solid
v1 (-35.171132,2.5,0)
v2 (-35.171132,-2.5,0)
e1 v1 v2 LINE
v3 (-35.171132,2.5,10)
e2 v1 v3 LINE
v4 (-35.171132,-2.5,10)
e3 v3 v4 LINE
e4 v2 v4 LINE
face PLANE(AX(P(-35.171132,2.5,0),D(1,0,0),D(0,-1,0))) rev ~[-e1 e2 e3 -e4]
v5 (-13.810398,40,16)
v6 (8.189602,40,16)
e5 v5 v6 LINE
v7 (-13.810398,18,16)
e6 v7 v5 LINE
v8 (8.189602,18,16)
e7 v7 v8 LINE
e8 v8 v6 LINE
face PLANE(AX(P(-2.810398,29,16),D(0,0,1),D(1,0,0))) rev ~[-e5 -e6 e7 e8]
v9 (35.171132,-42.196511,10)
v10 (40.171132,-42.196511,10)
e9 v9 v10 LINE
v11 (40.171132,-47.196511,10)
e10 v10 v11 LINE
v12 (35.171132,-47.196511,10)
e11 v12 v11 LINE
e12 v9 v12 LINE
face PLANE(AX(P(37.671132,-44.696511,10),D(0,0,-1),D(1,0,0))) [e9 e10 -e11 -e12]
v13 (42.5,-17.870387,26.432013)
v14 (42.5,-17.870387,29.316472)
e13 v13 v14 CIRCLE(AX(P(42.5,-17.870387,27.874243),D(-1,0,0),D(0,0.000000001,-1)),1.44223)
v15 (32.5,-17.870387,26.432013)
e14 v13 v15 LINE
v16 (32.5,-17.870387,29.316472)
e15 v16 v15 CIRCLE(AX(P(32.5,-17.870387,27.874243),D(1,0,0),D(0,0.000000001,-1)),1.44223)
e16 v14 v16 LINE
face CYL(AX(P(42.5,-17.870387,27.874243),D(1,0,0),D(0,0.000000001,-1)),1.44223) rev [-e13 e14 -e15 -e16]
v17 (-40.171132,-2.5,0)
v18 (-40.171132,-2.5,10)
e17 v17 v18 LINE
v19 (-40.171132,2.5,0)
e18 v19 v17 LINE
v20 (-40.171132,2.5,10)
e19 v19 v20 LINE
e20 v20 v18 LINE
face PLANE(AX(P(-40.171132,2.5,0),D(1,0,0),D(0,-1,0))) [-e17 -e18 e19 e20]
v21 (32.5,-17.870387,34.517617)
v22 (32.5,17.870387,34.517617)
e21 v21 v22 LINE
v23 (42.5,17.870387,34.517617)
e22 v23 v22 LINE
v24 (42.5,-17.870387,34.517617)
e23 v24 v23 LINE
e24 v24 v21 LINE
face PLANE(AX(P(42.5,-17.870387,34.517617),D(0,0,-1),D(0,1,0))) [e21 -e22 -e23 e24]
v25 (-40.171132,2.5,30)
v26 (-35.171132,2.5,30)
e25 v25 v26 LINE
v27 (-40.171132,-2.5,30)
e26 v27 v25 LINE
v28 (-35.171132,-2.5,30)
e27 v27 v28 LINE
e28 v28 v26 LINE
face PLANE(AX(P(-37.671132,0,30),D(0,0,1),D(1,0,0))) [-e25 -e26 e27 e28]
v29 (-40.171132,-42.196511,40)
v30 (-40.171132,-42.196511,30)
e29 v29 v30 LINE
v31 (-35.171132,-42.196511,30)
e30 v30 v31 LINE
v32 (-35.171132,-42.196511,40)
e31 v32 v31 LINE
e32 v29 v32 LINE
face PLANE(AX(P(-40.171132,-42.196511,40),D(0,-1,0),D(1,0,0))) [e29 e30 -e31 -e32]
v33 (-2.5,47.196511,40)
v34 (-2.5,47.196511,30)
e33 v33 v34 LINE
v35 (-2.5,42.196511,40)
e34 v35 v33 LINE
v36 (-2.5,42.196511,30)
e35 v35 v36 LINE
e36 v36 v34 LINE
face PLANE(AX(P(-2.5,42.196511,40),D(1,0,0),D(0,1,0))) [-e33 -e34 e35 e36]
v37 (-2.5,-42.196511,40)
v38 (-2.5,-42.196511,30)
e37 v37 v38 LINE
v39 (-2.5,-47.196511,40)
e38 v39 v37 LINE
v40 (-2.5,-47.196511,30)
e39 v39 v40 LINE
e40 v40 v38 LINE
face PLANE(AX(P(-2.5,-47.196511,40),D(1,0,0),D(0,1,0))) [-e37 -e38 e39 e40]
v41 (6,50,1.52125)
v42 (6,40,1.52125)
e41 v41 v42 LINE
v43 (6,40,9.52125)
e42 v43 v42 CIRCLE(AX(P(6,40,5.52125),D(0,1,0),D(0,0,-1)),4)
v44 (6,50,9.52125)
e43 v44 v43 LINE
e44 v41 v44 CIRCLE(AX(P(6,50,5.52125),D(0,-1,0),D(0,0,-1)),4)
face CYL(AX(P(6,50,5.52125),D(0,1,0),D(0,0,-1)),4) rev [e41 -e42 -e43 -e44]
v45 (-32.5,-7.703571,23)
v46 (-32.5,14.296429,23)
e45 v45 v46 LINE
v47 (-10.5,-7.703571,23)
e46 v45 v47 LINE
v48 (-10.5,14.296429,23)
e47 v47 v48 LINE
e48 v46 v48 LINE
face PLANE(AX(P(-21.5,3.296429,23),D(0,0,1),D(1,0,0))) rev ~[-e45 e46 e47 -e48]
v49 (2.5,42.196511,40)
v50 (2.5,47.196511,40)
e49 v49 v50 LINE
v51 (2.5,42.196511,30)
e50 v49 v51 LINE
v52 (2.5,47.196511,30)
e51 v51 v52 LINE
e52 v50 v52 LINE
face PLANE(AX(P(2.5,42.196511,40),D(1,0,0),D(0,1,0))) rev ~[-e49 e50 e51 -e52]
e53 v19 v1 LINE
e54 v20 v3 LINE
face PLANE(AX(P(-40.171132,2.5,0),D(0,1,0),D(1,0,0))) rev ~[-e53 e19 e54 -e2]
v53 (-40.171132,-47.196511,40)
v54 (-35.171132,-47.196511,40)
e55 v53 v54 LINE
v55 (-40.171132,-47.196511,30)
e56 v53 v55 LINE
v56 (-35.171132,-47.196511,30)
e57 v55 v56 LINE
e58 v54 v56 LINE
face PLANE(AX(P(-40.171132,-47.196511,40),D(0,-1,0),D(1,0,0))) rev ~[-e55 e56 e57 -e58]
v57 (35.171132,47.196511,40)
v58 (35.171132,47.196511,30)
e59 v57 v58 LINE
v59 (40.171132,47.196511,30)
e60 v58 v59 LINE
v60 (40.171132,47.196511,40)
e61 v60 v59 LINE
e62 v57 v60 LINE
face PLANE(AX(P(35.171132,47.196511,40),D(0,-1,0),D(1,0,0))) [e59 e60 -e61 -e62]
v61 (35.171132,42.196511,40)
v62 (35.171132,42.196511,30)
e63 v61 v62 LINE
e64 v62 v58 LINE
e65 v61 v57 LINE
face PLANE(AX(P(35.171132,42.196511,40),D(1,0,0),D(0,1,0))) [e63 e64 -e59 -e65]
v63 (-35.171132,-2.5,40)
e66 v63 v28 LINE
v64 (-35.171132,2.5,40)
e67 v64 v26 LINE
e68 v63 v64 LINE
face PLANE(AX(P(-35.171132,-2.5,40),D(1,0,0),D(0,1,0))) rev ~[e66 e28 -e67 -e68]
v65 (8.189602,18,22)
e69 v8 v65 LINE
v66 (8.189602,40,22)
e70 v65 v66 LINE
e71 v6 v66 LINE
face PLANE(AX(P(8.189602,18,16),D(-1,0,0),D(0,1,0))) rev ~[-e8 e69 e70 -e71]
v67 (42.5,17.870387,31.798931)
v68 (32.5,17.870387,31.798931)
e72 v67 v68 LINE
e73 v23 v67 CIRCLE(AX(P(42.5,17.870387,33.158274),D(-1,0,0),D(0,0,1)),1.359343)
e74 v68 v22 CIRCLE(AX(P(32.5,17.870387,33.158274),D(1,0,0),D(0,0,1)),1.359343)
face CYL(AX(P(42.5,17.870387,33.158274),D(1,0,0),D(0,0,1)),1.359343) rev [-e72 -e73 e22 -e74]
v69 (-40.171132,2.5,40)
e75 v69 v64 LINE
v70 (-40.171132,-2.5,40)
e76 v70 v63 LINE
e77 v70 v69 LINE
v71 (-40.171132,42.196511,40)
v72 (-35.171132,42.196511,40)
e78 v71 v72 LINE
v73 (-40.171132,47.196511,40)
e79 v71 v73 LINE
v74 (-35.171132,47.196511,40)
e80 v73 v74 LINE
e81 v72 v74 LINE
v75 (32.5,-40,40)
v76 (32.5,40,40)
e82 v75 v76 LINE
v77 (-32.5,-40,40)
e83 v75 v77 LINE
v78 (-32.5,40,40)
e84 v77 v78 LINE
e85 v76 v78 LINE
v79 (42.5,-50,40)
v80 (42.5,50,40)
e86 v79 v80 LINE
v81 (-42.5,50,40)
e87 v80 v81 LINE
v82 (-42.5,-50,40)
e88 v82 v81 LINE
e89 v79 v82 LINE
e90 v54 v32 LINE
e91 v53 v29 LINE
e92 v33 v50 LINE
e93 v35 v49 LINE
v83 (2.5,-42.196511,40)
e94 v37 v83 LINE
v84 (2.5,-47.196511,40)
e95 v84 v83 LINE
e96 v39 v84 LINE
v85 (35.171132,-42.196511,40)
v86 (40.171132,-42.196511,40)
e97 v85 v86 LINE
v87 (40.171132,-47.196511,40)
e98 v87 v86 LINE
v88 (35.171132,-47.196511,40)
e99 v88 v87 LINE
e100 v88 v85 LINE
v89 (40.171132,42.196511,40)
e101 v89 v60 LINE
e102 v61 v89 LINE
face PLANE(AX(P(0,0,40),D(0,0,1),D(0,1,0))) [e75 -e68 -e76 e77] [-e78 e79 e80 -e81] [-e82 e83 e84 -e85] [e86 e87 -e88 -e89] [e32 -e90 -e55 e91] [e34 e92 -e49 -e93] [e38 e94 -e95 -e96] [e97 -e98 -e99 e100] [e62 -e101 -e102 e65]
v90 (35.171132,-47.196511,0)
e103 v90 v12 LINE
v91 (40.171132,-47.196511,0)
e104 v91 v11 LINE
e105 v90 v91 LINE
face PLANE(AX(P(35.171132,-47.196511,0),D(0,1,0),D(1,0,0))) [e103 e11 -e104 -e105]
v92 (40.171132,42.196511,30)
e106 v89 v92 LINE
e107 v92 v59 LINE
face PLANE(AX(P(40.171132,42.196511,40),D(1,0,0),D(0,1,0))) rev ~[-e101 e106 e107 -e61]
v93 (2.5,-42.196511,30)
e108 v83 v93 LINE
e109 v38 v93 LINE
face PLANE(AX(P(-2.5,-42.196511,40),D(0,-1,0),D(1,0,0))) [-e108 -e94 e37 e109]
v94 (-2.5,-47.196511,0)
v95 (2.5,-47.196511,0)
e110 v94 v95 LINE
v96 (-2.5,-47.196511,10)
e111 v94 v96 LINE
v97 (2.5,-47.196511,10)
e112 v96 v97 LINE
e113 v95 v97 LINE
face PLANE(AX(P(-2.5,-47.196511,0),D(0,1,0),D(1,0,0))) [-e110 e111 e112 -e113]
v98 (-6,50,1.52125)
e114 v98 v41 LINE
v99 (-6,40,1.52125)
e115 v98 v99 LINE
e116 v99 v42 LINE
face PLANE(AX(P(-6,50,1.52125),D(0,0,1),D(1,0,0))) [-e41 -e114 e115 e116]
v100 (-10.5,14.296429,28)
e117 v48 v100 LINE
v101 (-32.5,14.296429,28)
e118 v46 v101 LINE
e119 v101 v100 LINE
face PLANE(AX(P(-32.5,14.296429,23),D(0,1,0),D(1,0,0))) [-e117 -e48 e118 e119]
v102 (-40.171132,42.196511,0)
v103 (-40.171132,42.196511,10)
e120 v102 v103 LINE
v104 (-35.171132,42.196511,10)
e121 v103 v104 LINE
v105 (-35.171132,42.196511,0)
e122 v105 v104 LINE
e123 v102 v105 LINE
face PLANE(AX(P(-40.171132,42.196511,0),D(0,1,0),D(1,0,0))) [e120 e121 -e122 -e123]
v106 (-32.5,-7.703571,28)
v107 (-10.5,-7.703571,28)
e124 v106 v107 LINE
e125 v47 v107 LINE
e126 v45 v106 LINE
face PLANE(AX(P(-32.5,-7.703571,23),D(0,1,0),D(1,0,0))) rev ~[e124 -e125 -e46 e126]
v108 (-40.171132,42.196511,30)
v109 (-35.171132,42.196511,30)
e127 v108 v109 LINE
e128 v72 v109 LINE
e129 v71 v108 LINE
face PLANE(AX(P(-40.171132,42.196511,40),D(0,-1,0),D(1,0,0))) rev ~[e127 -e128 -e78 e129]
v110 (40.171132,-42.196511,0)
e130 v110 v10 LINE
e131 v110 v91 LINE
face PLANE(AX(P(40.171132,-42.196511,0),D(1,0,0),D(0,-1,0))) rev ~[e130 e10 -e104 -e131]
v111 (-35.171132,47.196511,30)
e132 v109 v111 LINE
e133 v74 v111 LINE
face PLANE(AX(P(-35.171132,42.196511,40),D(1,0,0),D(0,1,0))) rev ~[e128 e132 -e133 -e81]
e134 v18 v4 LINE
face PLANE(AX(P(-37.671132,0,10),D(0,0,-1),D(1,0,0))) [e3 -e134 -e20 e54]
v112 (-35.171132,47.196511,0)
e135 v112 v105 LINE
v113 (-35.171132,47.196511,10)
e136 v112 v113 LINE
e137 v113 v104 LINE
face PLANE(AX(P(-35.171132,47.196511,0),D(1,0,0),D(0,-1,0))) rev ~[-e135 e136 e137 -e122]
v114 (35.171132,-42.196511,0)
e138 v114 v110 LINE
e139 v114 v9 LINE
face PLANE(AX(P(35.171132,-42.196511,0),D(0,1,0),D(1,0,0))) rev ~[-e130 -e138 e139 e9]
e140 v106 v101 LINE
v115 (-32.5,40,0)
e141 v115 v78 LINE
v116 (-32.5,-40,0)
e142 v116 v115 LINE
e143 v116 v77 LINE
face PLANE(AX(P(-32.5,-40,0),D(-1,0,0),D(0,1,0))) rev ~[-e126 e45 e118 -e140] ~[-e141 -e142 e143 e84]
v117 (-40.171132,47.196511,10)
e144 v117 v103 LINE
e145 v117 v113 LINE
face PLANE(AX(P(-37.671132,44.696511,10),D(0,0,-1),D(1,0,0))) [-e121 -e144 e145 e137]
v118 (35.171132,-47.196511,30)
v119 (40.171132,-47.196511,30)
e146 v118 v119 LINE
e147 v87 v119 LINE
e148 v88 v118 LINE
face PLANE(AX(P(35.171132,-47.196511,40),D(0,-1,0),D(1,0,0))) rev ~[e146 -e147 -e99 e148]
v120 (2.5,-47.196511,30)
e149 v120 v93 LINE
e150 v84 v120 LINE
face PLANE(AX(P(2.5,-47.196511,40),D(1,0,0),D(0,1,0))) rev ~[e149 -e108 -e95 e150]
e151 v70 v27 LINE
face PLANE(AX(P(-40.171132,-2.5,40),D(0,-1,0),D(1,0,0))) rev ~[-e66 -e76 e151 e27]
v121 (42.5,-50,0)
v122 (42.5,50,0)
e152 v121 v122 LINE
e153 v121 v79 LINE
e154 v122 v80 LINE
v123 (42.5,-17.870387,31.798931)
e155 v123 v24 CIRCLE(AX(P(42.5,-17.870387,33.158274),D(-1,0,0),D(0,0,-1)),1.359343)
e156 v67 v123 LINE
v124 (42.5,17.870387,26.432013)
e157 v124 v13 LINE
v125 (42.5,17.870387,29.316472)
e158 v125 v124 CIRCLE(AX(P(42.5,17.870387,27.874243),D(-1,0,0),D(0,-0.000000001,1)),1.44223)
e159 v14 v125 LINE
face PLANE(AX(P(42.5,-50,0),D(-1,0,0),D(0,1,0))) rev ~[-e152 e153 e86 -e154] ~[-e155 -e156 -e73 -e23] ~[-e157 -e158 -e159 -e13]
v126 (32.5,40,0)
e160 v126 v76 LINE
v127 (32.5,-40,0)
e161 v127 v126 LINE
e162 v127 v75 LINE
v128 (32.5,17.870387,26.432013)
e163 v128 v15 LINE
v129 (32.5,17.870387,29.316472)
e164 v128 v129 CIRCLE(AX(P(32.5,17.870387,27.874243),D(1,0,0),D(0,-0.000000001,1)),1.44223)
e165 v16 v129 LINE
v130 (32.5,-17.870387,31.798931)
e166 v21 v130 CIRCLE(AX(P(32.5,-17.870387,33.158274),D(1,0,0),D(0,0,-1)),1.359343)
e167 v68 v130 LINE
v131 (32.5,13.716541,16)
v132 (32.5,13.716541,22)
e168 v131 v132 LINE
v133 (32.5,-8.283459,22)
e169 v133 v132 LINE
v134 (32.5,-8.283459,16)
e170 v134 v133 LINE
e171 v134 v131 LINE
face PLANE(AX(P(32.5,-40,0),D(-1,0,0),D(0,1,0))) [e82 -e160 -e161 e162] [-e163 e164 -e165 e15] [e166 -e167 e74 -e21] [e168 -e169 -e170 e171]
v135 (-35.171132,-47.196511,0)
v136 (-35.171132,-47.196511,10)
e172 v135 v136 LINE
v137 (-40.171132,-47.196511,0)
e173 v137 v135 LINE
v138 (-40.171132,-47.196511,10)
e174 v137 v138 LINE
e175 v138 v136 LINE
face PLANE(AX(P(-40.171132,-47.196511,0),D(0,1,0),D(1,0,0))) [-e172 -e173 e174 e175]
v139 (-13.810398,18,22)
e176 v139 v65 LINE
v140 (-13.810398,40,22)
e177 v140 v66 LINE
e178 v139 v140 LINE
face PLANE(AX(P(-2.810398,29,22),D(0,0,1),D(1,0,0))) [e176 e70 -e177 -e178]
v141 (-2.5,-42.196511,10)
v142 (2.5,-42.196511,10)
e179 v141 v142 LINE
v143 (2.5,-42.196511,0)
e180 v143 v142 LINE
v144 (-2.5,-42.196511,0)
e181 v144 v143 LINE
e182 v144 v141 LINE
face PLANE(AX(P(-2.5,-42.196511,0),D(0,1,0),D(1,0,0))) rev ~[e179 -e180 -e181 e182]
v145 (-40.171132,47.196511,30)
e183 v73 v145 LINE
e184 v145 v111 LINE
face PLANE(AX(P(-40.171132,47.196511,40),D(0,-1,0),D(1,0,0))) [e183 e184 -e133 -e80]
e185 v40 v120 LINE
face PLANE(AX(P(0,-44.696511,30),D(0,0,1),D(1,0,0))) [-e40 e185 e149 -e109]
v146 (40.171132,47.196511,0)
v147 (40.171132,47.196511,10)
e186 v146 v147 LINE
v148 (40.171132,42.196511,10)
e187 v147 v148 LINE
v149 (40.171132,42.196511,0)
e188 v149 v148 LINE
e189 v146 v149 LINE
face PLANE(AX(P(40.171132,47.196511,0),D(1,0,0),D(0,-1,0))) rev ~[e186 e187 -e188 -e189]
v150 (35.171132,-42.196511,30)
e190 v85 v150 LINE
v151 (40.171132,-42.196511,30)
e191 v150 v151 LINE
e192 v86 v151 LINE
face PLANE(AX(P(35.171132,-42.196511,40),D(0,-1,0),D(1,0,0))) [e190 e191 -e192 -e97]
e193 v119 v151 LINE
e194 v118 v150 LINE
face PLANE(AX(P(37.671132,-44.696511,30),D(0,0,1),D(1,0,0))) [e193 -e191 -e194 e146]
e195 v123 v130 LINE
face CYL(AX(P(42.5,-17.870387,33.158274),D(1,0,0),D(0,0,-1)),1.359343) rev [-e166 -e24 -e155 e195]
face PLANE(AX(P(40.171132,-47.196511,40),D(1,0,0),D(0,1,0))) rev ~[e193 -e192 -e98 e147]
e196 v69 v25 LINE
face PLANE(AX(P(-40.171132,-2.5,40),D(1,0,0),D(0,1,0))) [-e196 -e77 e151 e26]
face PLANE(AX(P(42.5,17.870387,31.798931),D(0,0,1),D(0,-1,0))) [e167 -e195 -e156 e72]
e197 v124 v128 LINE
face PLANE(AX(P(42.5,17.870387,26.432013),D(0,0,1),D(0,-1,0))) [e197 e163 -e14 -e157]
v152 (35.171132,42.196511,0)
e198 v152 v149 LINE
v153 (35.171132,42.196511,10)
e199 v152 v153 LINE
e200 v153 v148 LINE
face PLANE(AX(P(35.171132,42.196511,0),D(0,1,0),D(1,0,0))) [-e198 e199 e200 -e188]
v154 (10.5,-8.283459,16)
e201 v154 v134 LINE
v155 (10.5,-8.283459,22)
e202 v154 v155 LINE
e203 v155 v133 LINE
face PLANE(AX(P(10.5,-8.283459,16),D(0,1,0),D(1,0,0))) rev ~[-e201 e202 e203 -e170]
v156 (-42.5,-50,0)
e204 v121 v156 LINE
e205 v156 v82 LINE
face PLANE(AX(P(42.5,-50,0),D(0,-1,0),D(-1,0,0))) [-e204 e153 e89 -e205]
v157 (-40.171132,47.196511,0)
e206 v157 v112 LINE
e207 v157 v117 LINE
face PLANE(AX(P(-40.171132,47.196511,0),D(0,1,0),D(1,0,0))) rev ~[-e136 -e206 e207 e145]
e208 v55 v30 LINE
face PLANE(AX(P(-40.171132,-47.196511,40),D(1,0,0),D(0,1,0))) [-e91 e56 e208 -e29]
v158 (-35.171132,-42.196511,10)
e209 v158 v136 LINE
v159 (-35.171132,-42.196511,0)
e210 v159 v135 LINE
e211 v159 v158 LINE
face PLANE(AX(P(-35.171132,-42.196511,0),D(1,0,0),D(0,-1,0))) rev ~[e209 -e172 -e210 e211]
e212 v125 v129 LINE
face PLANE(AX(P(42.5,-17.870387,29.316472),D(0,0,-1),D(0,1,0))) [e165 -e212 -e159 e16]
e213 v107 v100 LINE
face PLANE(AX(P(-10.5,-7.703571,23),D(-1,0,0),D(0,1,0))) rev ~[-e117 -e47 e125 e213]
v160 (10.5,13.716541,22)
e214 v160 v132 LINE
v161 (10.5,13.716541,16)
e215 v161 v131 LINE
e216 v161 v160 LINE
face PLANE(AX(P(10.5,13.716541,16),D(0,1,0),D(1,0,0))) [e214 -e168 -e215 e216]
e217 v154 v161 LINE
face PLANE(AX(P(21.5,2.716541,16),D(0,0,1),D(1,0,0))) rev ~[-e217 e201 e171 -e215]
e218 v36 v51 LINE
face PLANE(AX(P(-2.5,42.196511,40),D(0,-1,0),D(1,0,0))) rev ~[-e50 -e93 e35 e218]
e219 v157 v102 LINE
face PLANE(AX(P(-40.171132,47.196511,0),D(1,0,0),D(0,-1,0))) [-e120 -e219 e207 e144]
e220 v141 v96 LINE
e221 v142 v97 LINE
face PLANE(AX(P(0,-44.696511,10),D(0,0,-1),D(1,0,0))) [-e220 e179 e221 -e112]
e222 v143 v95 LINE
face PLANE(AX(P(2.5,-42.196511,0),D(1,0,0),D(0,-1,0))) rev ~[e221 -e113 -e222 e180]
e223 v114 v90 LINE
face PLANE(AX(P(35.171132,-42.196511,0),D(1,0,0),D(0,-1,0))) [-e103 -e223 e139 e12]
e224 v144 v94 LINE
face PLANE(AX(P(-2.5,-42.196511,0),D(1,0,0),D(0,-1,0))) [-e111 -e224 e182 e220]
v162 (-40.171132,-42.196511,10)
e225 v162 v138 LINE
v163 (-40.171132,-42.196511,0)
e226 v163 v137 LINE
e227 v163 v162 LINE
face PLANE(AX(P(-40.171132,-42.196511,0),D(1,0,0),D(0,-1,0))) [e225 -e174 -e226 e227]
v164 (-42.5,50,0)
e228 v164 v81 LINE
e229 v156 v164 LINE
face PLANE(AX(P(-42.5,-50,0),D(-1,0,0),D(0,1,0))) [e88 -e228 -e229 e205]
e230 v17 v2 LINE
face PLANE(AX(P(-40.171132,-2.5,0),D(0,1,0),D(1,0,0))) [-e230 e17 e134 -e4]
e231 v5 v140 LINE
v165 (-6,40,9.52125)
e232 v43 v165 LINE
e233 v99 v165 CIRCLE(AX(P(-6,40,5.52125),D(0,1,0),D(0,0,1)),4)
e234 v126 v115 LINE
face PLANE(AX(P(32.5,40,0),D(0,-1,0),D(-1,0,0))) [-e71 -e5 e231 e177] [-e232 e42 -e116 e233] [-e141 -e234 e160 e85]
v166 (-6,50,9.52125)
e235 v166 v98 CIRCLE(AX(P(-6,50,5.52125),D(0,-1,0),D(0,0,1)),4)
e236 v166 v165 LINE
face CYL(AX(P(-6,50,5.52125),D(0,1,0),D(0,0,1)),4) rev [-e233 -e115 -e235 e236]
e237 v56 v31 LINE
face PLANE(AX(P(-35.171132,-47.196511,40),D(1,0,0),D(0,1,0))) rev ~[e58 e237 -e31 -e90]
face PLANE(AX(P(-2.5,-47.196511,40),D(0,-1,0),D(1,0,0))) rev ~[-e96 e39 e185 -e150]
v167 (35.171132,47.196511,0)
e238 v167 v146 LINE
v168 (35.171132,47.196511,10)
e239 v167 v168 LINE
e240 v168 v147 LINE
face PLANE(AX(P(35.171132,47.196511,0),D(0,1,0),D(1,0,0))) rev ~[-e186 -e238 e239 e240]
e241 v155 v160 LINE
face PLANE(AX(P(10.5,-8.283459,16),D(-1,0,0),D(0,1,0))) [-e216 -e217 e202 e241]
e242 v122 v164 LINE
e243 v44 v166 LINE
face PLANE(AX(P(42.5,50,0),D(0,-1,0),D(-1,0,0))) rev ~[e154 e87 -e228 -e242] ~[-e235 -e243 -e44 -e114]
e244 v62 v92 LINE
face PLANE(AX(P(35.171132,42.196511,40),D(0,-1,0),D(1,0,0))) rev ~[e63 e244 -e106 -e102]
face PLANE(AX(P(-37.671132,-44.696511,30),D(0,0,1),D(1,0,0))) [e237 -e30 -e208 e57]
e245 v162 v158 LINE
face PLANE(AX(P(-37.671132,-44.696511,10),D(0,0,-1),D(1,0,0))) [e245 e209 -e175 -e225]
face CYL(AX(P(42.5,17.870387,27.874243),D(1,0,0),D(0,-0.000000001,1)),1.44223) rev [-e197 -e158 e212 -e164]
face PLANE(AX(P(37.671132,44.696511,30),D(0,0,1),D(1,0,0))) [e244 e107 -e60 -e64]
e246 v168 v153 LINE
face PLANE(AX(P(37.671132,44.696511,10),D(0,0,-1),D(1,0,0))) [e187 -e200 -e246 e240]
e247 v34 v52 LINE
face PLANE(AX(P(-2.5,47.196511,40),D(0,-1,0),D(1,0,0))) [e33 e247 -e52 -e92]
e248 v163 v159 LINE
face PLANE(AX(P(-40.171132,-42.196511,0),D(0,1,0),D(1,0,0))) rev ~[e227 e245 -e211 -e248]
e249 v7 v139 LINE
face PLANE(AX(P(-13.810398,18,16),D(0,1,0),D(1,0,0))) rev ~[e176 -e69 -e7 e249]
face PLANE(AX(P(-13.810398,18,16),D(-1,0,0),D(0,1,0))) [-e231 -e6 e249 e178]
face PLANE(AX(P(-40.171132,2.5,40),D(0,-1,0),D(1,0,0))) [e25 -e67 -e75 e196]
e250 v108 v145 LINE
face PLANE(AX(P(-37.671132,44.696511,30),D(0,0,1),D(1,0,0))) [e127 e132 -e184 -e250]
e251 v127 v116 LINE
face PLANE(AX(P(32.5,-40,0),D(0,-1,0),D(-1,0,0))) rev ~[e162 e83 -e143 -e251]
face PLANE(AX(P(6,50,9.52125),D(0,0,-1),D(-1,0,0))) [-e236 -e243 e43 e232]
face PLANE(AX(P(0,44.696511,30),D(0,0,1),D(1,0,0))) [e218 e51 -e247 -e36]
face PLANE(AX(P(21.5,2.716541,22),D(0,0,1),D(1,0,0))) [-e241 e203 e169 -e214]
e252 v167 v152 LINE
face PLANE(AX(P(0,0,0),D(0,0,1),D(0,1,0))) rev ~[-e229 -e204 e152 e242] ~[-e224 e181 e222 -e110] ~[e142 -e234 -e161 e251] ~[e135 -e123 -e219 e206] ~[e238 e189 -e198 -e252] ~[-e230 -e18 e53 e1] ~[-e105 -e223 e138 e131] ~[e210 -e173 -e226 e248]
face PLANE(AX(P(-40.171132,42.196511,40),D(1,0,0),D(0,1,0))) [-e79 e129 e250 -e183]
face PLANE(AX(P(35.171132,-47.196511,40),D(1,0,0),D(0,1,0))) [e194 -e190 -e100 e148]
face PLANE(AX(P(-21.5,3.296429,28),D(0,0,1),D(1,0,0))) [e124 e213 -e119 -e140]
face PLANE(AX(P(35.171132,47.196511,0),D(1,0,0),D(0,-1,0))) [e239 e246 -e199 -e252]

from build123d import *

# Parameters (mm, degrees)
SKETCH1_W            = 100
SKETCH1_H            = 85
SKETCH1_W_2          = 80
SKETCH1_H_2          = 65
BOSS_EXTRUDE1_DEPTH  = 40
SKETCH14_W           = 5
SKETCH14_H           = 5
CUT_EXTRUDE11_DEPTH  = 10
CUT_EXTRUDE16_REACH  = 117.785
SKETCH24_W           = 22
SKETCH24_H           = 22
BOSS_EXTRUDE13_DEPTH = 6
CUT_EXTRUDE17_REACH  = 108.419
SKETCH32_W           = 22
SKETCH32_H           = 22
BOSS_EXTRUDE17_DEPTH = 6
SKETCH33_W           = 5
SKETCH33_H           = 5
CUT_EXTRUDE18_DEPTH  = 10
SKETCH36_W           = 22
SKETCH36_H           = 22
BOSS_EXTRUDE19_DEPTH = 5


with BuildPart() as part:
    # Sketch1 → Boss-Extrude1 (new body)
    with BuildSketch(Plane(origin=(0, 0, 0), x_dir=(0, 1, 0), z_dir=(0, 0, 1))):
        Rectangle(SKETCH1_W, SKETCH1_H)
        Rectangle(SKETCH1_W_2, SKETCH1_H_2, mode=Mode.SUBTRACT)
    extrude(amount=BOSS_EXTRUDE1_DEPTH)

    # Sketch14 → Cut-Extrude11 (cut)
    with BuildSketch(Plane.XY.offset(40)):
        with Locations((-37.671132401, 44.6965107)):
            Rectangle(SKETCH14_W, SKETCH14_H)
        with Locations((-37.671132401, -44.6965107)):
            Rectangle(SKETCH14_W, SKETCH14_H)
        with Locations((37.671132401, 44.6965107)):
            Rectangle(SKETCH14_W, SKETCH14_H)
        with Locations((37.671132401, -44.6965107)):
            Rectangle(SKETCH14_W, SKETCH14_H)
        with Locations((0, 44.6965107)):
            Rectangle(SKETCH14_W, SKETCH14_H)
        with Locations((0, -44.6965107)):
            Rectangle(SKETCH14_W, SKETCH14_H)
        with Locations((-37.671132401, 0)):
            Rectangle(SKETCH14_W, SKETCH14_H)
    extrude(amount=-CUT_EXTRUDE11_DEPTH, mode=Mode.SUBTRACT)

    # Sketch22 → Cut-Extrude16 (cut, up to next)
    with BuildSketch(Plane(origin=(0, 50, 0), x_dir=(-1, 0, 0), z_dir=(0, 1, 0)), mode=Mode.PRIVATE) as cut_extrude16_sk1:
        with BuildLine():
            Line((-6, 9.521249719), (6, 9.521249719))
            ThreePointArc((6, 9.521249719), (10, 5.521249719), (6, 1.521249719))
            Line((6, 1.521249719), (-6, 1.521249719))
            ThreePointArc((-6, 1.521249719), (-10, 5.521249719), (-6, 9.521249719))
        make_face()
    cut_extrude16_tool1 = extrude(cut_extrude16_sk1.sketch, amount=-CUT_EXTRUDE16_REACH, mode=Mode.PRIVATE) & part.part
    add(cut_extrude16_tool1.solids().sort_by_distance((0, 50, 5.52125))[0], mode=Mode.SUBTRACT)

    # Sketch24 → Boss-Extrude13 (add)
    with BuildSketch(Plane.XY.offset(16)):
        with Locations((21.5, 2.716540801)):
            Rectangle(SKETCH24_W, SKETCH24_H)
    extrude(amount=BOSS_EXTRUDE13_DEPTH)

    # Sketch12 → Cut-Extrude17 (cut, up to next)
    with BuildSketch(Plane.YZ.offset(42.5), mode=Mode.PRIVATE) as cut_extrude17_sk1:
        with BuildLine():
            Line((-17.870386686, 34.517617013), (17.870386686, 34.517617013))
            ThreePointArc((17.870386686, 34.517617013), (19.229729644, 33.158274056), (17.870386686, 31.798931098))
            Line((17.870386686, 31.798931098), (-17.870386686, 31.798931098))
            ThreePointArc((-17.870386686, 31.798931098), (-19.229729644, 33.158274056), (-17.870386686, 34.517617013))
        make_face()
    cut_extrude17_tool1 = extrude(cut_extrude17_sk1.sketch, amount=-CUT_EXTRUDE17_REACH, mode=Mode.PRIVATE) & part.part
    # Sketch12 → Cut-Extrude17 (cut, up to next)
    with BuildSketch(Plane.YZ.offset(42.5), mode=Mode.PRIVATE) as cut_extrude17_sk2:
        with BuildLine():
            Line((-17.870386686, 29.316472465), (17.870386686, 29.316472465))
            ThreePointArc((17.870386686, 29.316472465), (19.31261641, 27.874242742), (17.870386686, 26.432013019))
            Line((17.870386686, 26.432013019), (-17.870386686, 26.432013019))
            ThreePointArc((-17.870386686, 26.432013019), (-19.31261641, 27.874242742), (-17.870386686, 29.316472465))
        make_face()
    cut_extrude17_tool2 = extrude(cut_extrude17_sk2.sketch, amount=-CUT_EXTRUDE17_REACH, mode=Mode.PRIVATE) & part.part
    add(cut_extrude17_tool1.solids().sort_by_distance((42.5, 0, 33.158274))[0], mode=Mode.SUBTRACT)
    add(cut_extrude17_tool2.solids().sort_by_distance((42.5, 0, 27.874243))[0], mode=Mode.SUBTRACT)

    # Sketch32 → Boss-Extrude17 (add)
    with BuildSketch(Plane.XY.offset(16)):
        with Locations((-2.810397874, 29)):
            Rectangle(SKETCH32_W, SKETCH32_H)
    extrude(amount=BOSS_EXTRUDE17_DEPTH)

    # Sketch33 → Cut-Extrude18 (cut)
    with BuildSketch(Plane(origin=(0, 0, 0), x_dir=(1, 0, 0), z_dir=(0, 0, -1))):
        with Locations((-37.671132401, 44.6965107)):
            Rectangle(SKETCH33_W, SKETCH33_H)
        with Locations((0, 44.6965107)):
            Rectangle(SKETCH33_W, SKETCH33_H)
        with Locations((37.671132401, 44.6965107)):
            Rectangle(SKETCH33_W, SKETCH33_H)
        with Locations((-37.671132401, 0)):
            Rectangle(SKETCH33_W, SKETCH33_H)
        with Locations((-37.671132401, -44.6965107)):
            Rectangle(SKETCH33_W, SKETCH33_H)
        with Locations((37.671132401, -44.6965107)):
            Rectangle(SKETCH33_W, SKETCH33_H)
    extrude(amount=-CUT_EXTRUDE18_DEPTH, mode=Mode.SUBTRACT)

    # Sketch36 → Boss-Extrude19 (add)
    with BuildSketch(Plane.XY.offset(23)):
        with Locations((-21.5, 3.296429393)):
            Rectangle(SKETCH36_W, SKETCH36_H)
    extrude(amount=BOSS_EXTRUDE19_DEPTH)


solid = part.part
